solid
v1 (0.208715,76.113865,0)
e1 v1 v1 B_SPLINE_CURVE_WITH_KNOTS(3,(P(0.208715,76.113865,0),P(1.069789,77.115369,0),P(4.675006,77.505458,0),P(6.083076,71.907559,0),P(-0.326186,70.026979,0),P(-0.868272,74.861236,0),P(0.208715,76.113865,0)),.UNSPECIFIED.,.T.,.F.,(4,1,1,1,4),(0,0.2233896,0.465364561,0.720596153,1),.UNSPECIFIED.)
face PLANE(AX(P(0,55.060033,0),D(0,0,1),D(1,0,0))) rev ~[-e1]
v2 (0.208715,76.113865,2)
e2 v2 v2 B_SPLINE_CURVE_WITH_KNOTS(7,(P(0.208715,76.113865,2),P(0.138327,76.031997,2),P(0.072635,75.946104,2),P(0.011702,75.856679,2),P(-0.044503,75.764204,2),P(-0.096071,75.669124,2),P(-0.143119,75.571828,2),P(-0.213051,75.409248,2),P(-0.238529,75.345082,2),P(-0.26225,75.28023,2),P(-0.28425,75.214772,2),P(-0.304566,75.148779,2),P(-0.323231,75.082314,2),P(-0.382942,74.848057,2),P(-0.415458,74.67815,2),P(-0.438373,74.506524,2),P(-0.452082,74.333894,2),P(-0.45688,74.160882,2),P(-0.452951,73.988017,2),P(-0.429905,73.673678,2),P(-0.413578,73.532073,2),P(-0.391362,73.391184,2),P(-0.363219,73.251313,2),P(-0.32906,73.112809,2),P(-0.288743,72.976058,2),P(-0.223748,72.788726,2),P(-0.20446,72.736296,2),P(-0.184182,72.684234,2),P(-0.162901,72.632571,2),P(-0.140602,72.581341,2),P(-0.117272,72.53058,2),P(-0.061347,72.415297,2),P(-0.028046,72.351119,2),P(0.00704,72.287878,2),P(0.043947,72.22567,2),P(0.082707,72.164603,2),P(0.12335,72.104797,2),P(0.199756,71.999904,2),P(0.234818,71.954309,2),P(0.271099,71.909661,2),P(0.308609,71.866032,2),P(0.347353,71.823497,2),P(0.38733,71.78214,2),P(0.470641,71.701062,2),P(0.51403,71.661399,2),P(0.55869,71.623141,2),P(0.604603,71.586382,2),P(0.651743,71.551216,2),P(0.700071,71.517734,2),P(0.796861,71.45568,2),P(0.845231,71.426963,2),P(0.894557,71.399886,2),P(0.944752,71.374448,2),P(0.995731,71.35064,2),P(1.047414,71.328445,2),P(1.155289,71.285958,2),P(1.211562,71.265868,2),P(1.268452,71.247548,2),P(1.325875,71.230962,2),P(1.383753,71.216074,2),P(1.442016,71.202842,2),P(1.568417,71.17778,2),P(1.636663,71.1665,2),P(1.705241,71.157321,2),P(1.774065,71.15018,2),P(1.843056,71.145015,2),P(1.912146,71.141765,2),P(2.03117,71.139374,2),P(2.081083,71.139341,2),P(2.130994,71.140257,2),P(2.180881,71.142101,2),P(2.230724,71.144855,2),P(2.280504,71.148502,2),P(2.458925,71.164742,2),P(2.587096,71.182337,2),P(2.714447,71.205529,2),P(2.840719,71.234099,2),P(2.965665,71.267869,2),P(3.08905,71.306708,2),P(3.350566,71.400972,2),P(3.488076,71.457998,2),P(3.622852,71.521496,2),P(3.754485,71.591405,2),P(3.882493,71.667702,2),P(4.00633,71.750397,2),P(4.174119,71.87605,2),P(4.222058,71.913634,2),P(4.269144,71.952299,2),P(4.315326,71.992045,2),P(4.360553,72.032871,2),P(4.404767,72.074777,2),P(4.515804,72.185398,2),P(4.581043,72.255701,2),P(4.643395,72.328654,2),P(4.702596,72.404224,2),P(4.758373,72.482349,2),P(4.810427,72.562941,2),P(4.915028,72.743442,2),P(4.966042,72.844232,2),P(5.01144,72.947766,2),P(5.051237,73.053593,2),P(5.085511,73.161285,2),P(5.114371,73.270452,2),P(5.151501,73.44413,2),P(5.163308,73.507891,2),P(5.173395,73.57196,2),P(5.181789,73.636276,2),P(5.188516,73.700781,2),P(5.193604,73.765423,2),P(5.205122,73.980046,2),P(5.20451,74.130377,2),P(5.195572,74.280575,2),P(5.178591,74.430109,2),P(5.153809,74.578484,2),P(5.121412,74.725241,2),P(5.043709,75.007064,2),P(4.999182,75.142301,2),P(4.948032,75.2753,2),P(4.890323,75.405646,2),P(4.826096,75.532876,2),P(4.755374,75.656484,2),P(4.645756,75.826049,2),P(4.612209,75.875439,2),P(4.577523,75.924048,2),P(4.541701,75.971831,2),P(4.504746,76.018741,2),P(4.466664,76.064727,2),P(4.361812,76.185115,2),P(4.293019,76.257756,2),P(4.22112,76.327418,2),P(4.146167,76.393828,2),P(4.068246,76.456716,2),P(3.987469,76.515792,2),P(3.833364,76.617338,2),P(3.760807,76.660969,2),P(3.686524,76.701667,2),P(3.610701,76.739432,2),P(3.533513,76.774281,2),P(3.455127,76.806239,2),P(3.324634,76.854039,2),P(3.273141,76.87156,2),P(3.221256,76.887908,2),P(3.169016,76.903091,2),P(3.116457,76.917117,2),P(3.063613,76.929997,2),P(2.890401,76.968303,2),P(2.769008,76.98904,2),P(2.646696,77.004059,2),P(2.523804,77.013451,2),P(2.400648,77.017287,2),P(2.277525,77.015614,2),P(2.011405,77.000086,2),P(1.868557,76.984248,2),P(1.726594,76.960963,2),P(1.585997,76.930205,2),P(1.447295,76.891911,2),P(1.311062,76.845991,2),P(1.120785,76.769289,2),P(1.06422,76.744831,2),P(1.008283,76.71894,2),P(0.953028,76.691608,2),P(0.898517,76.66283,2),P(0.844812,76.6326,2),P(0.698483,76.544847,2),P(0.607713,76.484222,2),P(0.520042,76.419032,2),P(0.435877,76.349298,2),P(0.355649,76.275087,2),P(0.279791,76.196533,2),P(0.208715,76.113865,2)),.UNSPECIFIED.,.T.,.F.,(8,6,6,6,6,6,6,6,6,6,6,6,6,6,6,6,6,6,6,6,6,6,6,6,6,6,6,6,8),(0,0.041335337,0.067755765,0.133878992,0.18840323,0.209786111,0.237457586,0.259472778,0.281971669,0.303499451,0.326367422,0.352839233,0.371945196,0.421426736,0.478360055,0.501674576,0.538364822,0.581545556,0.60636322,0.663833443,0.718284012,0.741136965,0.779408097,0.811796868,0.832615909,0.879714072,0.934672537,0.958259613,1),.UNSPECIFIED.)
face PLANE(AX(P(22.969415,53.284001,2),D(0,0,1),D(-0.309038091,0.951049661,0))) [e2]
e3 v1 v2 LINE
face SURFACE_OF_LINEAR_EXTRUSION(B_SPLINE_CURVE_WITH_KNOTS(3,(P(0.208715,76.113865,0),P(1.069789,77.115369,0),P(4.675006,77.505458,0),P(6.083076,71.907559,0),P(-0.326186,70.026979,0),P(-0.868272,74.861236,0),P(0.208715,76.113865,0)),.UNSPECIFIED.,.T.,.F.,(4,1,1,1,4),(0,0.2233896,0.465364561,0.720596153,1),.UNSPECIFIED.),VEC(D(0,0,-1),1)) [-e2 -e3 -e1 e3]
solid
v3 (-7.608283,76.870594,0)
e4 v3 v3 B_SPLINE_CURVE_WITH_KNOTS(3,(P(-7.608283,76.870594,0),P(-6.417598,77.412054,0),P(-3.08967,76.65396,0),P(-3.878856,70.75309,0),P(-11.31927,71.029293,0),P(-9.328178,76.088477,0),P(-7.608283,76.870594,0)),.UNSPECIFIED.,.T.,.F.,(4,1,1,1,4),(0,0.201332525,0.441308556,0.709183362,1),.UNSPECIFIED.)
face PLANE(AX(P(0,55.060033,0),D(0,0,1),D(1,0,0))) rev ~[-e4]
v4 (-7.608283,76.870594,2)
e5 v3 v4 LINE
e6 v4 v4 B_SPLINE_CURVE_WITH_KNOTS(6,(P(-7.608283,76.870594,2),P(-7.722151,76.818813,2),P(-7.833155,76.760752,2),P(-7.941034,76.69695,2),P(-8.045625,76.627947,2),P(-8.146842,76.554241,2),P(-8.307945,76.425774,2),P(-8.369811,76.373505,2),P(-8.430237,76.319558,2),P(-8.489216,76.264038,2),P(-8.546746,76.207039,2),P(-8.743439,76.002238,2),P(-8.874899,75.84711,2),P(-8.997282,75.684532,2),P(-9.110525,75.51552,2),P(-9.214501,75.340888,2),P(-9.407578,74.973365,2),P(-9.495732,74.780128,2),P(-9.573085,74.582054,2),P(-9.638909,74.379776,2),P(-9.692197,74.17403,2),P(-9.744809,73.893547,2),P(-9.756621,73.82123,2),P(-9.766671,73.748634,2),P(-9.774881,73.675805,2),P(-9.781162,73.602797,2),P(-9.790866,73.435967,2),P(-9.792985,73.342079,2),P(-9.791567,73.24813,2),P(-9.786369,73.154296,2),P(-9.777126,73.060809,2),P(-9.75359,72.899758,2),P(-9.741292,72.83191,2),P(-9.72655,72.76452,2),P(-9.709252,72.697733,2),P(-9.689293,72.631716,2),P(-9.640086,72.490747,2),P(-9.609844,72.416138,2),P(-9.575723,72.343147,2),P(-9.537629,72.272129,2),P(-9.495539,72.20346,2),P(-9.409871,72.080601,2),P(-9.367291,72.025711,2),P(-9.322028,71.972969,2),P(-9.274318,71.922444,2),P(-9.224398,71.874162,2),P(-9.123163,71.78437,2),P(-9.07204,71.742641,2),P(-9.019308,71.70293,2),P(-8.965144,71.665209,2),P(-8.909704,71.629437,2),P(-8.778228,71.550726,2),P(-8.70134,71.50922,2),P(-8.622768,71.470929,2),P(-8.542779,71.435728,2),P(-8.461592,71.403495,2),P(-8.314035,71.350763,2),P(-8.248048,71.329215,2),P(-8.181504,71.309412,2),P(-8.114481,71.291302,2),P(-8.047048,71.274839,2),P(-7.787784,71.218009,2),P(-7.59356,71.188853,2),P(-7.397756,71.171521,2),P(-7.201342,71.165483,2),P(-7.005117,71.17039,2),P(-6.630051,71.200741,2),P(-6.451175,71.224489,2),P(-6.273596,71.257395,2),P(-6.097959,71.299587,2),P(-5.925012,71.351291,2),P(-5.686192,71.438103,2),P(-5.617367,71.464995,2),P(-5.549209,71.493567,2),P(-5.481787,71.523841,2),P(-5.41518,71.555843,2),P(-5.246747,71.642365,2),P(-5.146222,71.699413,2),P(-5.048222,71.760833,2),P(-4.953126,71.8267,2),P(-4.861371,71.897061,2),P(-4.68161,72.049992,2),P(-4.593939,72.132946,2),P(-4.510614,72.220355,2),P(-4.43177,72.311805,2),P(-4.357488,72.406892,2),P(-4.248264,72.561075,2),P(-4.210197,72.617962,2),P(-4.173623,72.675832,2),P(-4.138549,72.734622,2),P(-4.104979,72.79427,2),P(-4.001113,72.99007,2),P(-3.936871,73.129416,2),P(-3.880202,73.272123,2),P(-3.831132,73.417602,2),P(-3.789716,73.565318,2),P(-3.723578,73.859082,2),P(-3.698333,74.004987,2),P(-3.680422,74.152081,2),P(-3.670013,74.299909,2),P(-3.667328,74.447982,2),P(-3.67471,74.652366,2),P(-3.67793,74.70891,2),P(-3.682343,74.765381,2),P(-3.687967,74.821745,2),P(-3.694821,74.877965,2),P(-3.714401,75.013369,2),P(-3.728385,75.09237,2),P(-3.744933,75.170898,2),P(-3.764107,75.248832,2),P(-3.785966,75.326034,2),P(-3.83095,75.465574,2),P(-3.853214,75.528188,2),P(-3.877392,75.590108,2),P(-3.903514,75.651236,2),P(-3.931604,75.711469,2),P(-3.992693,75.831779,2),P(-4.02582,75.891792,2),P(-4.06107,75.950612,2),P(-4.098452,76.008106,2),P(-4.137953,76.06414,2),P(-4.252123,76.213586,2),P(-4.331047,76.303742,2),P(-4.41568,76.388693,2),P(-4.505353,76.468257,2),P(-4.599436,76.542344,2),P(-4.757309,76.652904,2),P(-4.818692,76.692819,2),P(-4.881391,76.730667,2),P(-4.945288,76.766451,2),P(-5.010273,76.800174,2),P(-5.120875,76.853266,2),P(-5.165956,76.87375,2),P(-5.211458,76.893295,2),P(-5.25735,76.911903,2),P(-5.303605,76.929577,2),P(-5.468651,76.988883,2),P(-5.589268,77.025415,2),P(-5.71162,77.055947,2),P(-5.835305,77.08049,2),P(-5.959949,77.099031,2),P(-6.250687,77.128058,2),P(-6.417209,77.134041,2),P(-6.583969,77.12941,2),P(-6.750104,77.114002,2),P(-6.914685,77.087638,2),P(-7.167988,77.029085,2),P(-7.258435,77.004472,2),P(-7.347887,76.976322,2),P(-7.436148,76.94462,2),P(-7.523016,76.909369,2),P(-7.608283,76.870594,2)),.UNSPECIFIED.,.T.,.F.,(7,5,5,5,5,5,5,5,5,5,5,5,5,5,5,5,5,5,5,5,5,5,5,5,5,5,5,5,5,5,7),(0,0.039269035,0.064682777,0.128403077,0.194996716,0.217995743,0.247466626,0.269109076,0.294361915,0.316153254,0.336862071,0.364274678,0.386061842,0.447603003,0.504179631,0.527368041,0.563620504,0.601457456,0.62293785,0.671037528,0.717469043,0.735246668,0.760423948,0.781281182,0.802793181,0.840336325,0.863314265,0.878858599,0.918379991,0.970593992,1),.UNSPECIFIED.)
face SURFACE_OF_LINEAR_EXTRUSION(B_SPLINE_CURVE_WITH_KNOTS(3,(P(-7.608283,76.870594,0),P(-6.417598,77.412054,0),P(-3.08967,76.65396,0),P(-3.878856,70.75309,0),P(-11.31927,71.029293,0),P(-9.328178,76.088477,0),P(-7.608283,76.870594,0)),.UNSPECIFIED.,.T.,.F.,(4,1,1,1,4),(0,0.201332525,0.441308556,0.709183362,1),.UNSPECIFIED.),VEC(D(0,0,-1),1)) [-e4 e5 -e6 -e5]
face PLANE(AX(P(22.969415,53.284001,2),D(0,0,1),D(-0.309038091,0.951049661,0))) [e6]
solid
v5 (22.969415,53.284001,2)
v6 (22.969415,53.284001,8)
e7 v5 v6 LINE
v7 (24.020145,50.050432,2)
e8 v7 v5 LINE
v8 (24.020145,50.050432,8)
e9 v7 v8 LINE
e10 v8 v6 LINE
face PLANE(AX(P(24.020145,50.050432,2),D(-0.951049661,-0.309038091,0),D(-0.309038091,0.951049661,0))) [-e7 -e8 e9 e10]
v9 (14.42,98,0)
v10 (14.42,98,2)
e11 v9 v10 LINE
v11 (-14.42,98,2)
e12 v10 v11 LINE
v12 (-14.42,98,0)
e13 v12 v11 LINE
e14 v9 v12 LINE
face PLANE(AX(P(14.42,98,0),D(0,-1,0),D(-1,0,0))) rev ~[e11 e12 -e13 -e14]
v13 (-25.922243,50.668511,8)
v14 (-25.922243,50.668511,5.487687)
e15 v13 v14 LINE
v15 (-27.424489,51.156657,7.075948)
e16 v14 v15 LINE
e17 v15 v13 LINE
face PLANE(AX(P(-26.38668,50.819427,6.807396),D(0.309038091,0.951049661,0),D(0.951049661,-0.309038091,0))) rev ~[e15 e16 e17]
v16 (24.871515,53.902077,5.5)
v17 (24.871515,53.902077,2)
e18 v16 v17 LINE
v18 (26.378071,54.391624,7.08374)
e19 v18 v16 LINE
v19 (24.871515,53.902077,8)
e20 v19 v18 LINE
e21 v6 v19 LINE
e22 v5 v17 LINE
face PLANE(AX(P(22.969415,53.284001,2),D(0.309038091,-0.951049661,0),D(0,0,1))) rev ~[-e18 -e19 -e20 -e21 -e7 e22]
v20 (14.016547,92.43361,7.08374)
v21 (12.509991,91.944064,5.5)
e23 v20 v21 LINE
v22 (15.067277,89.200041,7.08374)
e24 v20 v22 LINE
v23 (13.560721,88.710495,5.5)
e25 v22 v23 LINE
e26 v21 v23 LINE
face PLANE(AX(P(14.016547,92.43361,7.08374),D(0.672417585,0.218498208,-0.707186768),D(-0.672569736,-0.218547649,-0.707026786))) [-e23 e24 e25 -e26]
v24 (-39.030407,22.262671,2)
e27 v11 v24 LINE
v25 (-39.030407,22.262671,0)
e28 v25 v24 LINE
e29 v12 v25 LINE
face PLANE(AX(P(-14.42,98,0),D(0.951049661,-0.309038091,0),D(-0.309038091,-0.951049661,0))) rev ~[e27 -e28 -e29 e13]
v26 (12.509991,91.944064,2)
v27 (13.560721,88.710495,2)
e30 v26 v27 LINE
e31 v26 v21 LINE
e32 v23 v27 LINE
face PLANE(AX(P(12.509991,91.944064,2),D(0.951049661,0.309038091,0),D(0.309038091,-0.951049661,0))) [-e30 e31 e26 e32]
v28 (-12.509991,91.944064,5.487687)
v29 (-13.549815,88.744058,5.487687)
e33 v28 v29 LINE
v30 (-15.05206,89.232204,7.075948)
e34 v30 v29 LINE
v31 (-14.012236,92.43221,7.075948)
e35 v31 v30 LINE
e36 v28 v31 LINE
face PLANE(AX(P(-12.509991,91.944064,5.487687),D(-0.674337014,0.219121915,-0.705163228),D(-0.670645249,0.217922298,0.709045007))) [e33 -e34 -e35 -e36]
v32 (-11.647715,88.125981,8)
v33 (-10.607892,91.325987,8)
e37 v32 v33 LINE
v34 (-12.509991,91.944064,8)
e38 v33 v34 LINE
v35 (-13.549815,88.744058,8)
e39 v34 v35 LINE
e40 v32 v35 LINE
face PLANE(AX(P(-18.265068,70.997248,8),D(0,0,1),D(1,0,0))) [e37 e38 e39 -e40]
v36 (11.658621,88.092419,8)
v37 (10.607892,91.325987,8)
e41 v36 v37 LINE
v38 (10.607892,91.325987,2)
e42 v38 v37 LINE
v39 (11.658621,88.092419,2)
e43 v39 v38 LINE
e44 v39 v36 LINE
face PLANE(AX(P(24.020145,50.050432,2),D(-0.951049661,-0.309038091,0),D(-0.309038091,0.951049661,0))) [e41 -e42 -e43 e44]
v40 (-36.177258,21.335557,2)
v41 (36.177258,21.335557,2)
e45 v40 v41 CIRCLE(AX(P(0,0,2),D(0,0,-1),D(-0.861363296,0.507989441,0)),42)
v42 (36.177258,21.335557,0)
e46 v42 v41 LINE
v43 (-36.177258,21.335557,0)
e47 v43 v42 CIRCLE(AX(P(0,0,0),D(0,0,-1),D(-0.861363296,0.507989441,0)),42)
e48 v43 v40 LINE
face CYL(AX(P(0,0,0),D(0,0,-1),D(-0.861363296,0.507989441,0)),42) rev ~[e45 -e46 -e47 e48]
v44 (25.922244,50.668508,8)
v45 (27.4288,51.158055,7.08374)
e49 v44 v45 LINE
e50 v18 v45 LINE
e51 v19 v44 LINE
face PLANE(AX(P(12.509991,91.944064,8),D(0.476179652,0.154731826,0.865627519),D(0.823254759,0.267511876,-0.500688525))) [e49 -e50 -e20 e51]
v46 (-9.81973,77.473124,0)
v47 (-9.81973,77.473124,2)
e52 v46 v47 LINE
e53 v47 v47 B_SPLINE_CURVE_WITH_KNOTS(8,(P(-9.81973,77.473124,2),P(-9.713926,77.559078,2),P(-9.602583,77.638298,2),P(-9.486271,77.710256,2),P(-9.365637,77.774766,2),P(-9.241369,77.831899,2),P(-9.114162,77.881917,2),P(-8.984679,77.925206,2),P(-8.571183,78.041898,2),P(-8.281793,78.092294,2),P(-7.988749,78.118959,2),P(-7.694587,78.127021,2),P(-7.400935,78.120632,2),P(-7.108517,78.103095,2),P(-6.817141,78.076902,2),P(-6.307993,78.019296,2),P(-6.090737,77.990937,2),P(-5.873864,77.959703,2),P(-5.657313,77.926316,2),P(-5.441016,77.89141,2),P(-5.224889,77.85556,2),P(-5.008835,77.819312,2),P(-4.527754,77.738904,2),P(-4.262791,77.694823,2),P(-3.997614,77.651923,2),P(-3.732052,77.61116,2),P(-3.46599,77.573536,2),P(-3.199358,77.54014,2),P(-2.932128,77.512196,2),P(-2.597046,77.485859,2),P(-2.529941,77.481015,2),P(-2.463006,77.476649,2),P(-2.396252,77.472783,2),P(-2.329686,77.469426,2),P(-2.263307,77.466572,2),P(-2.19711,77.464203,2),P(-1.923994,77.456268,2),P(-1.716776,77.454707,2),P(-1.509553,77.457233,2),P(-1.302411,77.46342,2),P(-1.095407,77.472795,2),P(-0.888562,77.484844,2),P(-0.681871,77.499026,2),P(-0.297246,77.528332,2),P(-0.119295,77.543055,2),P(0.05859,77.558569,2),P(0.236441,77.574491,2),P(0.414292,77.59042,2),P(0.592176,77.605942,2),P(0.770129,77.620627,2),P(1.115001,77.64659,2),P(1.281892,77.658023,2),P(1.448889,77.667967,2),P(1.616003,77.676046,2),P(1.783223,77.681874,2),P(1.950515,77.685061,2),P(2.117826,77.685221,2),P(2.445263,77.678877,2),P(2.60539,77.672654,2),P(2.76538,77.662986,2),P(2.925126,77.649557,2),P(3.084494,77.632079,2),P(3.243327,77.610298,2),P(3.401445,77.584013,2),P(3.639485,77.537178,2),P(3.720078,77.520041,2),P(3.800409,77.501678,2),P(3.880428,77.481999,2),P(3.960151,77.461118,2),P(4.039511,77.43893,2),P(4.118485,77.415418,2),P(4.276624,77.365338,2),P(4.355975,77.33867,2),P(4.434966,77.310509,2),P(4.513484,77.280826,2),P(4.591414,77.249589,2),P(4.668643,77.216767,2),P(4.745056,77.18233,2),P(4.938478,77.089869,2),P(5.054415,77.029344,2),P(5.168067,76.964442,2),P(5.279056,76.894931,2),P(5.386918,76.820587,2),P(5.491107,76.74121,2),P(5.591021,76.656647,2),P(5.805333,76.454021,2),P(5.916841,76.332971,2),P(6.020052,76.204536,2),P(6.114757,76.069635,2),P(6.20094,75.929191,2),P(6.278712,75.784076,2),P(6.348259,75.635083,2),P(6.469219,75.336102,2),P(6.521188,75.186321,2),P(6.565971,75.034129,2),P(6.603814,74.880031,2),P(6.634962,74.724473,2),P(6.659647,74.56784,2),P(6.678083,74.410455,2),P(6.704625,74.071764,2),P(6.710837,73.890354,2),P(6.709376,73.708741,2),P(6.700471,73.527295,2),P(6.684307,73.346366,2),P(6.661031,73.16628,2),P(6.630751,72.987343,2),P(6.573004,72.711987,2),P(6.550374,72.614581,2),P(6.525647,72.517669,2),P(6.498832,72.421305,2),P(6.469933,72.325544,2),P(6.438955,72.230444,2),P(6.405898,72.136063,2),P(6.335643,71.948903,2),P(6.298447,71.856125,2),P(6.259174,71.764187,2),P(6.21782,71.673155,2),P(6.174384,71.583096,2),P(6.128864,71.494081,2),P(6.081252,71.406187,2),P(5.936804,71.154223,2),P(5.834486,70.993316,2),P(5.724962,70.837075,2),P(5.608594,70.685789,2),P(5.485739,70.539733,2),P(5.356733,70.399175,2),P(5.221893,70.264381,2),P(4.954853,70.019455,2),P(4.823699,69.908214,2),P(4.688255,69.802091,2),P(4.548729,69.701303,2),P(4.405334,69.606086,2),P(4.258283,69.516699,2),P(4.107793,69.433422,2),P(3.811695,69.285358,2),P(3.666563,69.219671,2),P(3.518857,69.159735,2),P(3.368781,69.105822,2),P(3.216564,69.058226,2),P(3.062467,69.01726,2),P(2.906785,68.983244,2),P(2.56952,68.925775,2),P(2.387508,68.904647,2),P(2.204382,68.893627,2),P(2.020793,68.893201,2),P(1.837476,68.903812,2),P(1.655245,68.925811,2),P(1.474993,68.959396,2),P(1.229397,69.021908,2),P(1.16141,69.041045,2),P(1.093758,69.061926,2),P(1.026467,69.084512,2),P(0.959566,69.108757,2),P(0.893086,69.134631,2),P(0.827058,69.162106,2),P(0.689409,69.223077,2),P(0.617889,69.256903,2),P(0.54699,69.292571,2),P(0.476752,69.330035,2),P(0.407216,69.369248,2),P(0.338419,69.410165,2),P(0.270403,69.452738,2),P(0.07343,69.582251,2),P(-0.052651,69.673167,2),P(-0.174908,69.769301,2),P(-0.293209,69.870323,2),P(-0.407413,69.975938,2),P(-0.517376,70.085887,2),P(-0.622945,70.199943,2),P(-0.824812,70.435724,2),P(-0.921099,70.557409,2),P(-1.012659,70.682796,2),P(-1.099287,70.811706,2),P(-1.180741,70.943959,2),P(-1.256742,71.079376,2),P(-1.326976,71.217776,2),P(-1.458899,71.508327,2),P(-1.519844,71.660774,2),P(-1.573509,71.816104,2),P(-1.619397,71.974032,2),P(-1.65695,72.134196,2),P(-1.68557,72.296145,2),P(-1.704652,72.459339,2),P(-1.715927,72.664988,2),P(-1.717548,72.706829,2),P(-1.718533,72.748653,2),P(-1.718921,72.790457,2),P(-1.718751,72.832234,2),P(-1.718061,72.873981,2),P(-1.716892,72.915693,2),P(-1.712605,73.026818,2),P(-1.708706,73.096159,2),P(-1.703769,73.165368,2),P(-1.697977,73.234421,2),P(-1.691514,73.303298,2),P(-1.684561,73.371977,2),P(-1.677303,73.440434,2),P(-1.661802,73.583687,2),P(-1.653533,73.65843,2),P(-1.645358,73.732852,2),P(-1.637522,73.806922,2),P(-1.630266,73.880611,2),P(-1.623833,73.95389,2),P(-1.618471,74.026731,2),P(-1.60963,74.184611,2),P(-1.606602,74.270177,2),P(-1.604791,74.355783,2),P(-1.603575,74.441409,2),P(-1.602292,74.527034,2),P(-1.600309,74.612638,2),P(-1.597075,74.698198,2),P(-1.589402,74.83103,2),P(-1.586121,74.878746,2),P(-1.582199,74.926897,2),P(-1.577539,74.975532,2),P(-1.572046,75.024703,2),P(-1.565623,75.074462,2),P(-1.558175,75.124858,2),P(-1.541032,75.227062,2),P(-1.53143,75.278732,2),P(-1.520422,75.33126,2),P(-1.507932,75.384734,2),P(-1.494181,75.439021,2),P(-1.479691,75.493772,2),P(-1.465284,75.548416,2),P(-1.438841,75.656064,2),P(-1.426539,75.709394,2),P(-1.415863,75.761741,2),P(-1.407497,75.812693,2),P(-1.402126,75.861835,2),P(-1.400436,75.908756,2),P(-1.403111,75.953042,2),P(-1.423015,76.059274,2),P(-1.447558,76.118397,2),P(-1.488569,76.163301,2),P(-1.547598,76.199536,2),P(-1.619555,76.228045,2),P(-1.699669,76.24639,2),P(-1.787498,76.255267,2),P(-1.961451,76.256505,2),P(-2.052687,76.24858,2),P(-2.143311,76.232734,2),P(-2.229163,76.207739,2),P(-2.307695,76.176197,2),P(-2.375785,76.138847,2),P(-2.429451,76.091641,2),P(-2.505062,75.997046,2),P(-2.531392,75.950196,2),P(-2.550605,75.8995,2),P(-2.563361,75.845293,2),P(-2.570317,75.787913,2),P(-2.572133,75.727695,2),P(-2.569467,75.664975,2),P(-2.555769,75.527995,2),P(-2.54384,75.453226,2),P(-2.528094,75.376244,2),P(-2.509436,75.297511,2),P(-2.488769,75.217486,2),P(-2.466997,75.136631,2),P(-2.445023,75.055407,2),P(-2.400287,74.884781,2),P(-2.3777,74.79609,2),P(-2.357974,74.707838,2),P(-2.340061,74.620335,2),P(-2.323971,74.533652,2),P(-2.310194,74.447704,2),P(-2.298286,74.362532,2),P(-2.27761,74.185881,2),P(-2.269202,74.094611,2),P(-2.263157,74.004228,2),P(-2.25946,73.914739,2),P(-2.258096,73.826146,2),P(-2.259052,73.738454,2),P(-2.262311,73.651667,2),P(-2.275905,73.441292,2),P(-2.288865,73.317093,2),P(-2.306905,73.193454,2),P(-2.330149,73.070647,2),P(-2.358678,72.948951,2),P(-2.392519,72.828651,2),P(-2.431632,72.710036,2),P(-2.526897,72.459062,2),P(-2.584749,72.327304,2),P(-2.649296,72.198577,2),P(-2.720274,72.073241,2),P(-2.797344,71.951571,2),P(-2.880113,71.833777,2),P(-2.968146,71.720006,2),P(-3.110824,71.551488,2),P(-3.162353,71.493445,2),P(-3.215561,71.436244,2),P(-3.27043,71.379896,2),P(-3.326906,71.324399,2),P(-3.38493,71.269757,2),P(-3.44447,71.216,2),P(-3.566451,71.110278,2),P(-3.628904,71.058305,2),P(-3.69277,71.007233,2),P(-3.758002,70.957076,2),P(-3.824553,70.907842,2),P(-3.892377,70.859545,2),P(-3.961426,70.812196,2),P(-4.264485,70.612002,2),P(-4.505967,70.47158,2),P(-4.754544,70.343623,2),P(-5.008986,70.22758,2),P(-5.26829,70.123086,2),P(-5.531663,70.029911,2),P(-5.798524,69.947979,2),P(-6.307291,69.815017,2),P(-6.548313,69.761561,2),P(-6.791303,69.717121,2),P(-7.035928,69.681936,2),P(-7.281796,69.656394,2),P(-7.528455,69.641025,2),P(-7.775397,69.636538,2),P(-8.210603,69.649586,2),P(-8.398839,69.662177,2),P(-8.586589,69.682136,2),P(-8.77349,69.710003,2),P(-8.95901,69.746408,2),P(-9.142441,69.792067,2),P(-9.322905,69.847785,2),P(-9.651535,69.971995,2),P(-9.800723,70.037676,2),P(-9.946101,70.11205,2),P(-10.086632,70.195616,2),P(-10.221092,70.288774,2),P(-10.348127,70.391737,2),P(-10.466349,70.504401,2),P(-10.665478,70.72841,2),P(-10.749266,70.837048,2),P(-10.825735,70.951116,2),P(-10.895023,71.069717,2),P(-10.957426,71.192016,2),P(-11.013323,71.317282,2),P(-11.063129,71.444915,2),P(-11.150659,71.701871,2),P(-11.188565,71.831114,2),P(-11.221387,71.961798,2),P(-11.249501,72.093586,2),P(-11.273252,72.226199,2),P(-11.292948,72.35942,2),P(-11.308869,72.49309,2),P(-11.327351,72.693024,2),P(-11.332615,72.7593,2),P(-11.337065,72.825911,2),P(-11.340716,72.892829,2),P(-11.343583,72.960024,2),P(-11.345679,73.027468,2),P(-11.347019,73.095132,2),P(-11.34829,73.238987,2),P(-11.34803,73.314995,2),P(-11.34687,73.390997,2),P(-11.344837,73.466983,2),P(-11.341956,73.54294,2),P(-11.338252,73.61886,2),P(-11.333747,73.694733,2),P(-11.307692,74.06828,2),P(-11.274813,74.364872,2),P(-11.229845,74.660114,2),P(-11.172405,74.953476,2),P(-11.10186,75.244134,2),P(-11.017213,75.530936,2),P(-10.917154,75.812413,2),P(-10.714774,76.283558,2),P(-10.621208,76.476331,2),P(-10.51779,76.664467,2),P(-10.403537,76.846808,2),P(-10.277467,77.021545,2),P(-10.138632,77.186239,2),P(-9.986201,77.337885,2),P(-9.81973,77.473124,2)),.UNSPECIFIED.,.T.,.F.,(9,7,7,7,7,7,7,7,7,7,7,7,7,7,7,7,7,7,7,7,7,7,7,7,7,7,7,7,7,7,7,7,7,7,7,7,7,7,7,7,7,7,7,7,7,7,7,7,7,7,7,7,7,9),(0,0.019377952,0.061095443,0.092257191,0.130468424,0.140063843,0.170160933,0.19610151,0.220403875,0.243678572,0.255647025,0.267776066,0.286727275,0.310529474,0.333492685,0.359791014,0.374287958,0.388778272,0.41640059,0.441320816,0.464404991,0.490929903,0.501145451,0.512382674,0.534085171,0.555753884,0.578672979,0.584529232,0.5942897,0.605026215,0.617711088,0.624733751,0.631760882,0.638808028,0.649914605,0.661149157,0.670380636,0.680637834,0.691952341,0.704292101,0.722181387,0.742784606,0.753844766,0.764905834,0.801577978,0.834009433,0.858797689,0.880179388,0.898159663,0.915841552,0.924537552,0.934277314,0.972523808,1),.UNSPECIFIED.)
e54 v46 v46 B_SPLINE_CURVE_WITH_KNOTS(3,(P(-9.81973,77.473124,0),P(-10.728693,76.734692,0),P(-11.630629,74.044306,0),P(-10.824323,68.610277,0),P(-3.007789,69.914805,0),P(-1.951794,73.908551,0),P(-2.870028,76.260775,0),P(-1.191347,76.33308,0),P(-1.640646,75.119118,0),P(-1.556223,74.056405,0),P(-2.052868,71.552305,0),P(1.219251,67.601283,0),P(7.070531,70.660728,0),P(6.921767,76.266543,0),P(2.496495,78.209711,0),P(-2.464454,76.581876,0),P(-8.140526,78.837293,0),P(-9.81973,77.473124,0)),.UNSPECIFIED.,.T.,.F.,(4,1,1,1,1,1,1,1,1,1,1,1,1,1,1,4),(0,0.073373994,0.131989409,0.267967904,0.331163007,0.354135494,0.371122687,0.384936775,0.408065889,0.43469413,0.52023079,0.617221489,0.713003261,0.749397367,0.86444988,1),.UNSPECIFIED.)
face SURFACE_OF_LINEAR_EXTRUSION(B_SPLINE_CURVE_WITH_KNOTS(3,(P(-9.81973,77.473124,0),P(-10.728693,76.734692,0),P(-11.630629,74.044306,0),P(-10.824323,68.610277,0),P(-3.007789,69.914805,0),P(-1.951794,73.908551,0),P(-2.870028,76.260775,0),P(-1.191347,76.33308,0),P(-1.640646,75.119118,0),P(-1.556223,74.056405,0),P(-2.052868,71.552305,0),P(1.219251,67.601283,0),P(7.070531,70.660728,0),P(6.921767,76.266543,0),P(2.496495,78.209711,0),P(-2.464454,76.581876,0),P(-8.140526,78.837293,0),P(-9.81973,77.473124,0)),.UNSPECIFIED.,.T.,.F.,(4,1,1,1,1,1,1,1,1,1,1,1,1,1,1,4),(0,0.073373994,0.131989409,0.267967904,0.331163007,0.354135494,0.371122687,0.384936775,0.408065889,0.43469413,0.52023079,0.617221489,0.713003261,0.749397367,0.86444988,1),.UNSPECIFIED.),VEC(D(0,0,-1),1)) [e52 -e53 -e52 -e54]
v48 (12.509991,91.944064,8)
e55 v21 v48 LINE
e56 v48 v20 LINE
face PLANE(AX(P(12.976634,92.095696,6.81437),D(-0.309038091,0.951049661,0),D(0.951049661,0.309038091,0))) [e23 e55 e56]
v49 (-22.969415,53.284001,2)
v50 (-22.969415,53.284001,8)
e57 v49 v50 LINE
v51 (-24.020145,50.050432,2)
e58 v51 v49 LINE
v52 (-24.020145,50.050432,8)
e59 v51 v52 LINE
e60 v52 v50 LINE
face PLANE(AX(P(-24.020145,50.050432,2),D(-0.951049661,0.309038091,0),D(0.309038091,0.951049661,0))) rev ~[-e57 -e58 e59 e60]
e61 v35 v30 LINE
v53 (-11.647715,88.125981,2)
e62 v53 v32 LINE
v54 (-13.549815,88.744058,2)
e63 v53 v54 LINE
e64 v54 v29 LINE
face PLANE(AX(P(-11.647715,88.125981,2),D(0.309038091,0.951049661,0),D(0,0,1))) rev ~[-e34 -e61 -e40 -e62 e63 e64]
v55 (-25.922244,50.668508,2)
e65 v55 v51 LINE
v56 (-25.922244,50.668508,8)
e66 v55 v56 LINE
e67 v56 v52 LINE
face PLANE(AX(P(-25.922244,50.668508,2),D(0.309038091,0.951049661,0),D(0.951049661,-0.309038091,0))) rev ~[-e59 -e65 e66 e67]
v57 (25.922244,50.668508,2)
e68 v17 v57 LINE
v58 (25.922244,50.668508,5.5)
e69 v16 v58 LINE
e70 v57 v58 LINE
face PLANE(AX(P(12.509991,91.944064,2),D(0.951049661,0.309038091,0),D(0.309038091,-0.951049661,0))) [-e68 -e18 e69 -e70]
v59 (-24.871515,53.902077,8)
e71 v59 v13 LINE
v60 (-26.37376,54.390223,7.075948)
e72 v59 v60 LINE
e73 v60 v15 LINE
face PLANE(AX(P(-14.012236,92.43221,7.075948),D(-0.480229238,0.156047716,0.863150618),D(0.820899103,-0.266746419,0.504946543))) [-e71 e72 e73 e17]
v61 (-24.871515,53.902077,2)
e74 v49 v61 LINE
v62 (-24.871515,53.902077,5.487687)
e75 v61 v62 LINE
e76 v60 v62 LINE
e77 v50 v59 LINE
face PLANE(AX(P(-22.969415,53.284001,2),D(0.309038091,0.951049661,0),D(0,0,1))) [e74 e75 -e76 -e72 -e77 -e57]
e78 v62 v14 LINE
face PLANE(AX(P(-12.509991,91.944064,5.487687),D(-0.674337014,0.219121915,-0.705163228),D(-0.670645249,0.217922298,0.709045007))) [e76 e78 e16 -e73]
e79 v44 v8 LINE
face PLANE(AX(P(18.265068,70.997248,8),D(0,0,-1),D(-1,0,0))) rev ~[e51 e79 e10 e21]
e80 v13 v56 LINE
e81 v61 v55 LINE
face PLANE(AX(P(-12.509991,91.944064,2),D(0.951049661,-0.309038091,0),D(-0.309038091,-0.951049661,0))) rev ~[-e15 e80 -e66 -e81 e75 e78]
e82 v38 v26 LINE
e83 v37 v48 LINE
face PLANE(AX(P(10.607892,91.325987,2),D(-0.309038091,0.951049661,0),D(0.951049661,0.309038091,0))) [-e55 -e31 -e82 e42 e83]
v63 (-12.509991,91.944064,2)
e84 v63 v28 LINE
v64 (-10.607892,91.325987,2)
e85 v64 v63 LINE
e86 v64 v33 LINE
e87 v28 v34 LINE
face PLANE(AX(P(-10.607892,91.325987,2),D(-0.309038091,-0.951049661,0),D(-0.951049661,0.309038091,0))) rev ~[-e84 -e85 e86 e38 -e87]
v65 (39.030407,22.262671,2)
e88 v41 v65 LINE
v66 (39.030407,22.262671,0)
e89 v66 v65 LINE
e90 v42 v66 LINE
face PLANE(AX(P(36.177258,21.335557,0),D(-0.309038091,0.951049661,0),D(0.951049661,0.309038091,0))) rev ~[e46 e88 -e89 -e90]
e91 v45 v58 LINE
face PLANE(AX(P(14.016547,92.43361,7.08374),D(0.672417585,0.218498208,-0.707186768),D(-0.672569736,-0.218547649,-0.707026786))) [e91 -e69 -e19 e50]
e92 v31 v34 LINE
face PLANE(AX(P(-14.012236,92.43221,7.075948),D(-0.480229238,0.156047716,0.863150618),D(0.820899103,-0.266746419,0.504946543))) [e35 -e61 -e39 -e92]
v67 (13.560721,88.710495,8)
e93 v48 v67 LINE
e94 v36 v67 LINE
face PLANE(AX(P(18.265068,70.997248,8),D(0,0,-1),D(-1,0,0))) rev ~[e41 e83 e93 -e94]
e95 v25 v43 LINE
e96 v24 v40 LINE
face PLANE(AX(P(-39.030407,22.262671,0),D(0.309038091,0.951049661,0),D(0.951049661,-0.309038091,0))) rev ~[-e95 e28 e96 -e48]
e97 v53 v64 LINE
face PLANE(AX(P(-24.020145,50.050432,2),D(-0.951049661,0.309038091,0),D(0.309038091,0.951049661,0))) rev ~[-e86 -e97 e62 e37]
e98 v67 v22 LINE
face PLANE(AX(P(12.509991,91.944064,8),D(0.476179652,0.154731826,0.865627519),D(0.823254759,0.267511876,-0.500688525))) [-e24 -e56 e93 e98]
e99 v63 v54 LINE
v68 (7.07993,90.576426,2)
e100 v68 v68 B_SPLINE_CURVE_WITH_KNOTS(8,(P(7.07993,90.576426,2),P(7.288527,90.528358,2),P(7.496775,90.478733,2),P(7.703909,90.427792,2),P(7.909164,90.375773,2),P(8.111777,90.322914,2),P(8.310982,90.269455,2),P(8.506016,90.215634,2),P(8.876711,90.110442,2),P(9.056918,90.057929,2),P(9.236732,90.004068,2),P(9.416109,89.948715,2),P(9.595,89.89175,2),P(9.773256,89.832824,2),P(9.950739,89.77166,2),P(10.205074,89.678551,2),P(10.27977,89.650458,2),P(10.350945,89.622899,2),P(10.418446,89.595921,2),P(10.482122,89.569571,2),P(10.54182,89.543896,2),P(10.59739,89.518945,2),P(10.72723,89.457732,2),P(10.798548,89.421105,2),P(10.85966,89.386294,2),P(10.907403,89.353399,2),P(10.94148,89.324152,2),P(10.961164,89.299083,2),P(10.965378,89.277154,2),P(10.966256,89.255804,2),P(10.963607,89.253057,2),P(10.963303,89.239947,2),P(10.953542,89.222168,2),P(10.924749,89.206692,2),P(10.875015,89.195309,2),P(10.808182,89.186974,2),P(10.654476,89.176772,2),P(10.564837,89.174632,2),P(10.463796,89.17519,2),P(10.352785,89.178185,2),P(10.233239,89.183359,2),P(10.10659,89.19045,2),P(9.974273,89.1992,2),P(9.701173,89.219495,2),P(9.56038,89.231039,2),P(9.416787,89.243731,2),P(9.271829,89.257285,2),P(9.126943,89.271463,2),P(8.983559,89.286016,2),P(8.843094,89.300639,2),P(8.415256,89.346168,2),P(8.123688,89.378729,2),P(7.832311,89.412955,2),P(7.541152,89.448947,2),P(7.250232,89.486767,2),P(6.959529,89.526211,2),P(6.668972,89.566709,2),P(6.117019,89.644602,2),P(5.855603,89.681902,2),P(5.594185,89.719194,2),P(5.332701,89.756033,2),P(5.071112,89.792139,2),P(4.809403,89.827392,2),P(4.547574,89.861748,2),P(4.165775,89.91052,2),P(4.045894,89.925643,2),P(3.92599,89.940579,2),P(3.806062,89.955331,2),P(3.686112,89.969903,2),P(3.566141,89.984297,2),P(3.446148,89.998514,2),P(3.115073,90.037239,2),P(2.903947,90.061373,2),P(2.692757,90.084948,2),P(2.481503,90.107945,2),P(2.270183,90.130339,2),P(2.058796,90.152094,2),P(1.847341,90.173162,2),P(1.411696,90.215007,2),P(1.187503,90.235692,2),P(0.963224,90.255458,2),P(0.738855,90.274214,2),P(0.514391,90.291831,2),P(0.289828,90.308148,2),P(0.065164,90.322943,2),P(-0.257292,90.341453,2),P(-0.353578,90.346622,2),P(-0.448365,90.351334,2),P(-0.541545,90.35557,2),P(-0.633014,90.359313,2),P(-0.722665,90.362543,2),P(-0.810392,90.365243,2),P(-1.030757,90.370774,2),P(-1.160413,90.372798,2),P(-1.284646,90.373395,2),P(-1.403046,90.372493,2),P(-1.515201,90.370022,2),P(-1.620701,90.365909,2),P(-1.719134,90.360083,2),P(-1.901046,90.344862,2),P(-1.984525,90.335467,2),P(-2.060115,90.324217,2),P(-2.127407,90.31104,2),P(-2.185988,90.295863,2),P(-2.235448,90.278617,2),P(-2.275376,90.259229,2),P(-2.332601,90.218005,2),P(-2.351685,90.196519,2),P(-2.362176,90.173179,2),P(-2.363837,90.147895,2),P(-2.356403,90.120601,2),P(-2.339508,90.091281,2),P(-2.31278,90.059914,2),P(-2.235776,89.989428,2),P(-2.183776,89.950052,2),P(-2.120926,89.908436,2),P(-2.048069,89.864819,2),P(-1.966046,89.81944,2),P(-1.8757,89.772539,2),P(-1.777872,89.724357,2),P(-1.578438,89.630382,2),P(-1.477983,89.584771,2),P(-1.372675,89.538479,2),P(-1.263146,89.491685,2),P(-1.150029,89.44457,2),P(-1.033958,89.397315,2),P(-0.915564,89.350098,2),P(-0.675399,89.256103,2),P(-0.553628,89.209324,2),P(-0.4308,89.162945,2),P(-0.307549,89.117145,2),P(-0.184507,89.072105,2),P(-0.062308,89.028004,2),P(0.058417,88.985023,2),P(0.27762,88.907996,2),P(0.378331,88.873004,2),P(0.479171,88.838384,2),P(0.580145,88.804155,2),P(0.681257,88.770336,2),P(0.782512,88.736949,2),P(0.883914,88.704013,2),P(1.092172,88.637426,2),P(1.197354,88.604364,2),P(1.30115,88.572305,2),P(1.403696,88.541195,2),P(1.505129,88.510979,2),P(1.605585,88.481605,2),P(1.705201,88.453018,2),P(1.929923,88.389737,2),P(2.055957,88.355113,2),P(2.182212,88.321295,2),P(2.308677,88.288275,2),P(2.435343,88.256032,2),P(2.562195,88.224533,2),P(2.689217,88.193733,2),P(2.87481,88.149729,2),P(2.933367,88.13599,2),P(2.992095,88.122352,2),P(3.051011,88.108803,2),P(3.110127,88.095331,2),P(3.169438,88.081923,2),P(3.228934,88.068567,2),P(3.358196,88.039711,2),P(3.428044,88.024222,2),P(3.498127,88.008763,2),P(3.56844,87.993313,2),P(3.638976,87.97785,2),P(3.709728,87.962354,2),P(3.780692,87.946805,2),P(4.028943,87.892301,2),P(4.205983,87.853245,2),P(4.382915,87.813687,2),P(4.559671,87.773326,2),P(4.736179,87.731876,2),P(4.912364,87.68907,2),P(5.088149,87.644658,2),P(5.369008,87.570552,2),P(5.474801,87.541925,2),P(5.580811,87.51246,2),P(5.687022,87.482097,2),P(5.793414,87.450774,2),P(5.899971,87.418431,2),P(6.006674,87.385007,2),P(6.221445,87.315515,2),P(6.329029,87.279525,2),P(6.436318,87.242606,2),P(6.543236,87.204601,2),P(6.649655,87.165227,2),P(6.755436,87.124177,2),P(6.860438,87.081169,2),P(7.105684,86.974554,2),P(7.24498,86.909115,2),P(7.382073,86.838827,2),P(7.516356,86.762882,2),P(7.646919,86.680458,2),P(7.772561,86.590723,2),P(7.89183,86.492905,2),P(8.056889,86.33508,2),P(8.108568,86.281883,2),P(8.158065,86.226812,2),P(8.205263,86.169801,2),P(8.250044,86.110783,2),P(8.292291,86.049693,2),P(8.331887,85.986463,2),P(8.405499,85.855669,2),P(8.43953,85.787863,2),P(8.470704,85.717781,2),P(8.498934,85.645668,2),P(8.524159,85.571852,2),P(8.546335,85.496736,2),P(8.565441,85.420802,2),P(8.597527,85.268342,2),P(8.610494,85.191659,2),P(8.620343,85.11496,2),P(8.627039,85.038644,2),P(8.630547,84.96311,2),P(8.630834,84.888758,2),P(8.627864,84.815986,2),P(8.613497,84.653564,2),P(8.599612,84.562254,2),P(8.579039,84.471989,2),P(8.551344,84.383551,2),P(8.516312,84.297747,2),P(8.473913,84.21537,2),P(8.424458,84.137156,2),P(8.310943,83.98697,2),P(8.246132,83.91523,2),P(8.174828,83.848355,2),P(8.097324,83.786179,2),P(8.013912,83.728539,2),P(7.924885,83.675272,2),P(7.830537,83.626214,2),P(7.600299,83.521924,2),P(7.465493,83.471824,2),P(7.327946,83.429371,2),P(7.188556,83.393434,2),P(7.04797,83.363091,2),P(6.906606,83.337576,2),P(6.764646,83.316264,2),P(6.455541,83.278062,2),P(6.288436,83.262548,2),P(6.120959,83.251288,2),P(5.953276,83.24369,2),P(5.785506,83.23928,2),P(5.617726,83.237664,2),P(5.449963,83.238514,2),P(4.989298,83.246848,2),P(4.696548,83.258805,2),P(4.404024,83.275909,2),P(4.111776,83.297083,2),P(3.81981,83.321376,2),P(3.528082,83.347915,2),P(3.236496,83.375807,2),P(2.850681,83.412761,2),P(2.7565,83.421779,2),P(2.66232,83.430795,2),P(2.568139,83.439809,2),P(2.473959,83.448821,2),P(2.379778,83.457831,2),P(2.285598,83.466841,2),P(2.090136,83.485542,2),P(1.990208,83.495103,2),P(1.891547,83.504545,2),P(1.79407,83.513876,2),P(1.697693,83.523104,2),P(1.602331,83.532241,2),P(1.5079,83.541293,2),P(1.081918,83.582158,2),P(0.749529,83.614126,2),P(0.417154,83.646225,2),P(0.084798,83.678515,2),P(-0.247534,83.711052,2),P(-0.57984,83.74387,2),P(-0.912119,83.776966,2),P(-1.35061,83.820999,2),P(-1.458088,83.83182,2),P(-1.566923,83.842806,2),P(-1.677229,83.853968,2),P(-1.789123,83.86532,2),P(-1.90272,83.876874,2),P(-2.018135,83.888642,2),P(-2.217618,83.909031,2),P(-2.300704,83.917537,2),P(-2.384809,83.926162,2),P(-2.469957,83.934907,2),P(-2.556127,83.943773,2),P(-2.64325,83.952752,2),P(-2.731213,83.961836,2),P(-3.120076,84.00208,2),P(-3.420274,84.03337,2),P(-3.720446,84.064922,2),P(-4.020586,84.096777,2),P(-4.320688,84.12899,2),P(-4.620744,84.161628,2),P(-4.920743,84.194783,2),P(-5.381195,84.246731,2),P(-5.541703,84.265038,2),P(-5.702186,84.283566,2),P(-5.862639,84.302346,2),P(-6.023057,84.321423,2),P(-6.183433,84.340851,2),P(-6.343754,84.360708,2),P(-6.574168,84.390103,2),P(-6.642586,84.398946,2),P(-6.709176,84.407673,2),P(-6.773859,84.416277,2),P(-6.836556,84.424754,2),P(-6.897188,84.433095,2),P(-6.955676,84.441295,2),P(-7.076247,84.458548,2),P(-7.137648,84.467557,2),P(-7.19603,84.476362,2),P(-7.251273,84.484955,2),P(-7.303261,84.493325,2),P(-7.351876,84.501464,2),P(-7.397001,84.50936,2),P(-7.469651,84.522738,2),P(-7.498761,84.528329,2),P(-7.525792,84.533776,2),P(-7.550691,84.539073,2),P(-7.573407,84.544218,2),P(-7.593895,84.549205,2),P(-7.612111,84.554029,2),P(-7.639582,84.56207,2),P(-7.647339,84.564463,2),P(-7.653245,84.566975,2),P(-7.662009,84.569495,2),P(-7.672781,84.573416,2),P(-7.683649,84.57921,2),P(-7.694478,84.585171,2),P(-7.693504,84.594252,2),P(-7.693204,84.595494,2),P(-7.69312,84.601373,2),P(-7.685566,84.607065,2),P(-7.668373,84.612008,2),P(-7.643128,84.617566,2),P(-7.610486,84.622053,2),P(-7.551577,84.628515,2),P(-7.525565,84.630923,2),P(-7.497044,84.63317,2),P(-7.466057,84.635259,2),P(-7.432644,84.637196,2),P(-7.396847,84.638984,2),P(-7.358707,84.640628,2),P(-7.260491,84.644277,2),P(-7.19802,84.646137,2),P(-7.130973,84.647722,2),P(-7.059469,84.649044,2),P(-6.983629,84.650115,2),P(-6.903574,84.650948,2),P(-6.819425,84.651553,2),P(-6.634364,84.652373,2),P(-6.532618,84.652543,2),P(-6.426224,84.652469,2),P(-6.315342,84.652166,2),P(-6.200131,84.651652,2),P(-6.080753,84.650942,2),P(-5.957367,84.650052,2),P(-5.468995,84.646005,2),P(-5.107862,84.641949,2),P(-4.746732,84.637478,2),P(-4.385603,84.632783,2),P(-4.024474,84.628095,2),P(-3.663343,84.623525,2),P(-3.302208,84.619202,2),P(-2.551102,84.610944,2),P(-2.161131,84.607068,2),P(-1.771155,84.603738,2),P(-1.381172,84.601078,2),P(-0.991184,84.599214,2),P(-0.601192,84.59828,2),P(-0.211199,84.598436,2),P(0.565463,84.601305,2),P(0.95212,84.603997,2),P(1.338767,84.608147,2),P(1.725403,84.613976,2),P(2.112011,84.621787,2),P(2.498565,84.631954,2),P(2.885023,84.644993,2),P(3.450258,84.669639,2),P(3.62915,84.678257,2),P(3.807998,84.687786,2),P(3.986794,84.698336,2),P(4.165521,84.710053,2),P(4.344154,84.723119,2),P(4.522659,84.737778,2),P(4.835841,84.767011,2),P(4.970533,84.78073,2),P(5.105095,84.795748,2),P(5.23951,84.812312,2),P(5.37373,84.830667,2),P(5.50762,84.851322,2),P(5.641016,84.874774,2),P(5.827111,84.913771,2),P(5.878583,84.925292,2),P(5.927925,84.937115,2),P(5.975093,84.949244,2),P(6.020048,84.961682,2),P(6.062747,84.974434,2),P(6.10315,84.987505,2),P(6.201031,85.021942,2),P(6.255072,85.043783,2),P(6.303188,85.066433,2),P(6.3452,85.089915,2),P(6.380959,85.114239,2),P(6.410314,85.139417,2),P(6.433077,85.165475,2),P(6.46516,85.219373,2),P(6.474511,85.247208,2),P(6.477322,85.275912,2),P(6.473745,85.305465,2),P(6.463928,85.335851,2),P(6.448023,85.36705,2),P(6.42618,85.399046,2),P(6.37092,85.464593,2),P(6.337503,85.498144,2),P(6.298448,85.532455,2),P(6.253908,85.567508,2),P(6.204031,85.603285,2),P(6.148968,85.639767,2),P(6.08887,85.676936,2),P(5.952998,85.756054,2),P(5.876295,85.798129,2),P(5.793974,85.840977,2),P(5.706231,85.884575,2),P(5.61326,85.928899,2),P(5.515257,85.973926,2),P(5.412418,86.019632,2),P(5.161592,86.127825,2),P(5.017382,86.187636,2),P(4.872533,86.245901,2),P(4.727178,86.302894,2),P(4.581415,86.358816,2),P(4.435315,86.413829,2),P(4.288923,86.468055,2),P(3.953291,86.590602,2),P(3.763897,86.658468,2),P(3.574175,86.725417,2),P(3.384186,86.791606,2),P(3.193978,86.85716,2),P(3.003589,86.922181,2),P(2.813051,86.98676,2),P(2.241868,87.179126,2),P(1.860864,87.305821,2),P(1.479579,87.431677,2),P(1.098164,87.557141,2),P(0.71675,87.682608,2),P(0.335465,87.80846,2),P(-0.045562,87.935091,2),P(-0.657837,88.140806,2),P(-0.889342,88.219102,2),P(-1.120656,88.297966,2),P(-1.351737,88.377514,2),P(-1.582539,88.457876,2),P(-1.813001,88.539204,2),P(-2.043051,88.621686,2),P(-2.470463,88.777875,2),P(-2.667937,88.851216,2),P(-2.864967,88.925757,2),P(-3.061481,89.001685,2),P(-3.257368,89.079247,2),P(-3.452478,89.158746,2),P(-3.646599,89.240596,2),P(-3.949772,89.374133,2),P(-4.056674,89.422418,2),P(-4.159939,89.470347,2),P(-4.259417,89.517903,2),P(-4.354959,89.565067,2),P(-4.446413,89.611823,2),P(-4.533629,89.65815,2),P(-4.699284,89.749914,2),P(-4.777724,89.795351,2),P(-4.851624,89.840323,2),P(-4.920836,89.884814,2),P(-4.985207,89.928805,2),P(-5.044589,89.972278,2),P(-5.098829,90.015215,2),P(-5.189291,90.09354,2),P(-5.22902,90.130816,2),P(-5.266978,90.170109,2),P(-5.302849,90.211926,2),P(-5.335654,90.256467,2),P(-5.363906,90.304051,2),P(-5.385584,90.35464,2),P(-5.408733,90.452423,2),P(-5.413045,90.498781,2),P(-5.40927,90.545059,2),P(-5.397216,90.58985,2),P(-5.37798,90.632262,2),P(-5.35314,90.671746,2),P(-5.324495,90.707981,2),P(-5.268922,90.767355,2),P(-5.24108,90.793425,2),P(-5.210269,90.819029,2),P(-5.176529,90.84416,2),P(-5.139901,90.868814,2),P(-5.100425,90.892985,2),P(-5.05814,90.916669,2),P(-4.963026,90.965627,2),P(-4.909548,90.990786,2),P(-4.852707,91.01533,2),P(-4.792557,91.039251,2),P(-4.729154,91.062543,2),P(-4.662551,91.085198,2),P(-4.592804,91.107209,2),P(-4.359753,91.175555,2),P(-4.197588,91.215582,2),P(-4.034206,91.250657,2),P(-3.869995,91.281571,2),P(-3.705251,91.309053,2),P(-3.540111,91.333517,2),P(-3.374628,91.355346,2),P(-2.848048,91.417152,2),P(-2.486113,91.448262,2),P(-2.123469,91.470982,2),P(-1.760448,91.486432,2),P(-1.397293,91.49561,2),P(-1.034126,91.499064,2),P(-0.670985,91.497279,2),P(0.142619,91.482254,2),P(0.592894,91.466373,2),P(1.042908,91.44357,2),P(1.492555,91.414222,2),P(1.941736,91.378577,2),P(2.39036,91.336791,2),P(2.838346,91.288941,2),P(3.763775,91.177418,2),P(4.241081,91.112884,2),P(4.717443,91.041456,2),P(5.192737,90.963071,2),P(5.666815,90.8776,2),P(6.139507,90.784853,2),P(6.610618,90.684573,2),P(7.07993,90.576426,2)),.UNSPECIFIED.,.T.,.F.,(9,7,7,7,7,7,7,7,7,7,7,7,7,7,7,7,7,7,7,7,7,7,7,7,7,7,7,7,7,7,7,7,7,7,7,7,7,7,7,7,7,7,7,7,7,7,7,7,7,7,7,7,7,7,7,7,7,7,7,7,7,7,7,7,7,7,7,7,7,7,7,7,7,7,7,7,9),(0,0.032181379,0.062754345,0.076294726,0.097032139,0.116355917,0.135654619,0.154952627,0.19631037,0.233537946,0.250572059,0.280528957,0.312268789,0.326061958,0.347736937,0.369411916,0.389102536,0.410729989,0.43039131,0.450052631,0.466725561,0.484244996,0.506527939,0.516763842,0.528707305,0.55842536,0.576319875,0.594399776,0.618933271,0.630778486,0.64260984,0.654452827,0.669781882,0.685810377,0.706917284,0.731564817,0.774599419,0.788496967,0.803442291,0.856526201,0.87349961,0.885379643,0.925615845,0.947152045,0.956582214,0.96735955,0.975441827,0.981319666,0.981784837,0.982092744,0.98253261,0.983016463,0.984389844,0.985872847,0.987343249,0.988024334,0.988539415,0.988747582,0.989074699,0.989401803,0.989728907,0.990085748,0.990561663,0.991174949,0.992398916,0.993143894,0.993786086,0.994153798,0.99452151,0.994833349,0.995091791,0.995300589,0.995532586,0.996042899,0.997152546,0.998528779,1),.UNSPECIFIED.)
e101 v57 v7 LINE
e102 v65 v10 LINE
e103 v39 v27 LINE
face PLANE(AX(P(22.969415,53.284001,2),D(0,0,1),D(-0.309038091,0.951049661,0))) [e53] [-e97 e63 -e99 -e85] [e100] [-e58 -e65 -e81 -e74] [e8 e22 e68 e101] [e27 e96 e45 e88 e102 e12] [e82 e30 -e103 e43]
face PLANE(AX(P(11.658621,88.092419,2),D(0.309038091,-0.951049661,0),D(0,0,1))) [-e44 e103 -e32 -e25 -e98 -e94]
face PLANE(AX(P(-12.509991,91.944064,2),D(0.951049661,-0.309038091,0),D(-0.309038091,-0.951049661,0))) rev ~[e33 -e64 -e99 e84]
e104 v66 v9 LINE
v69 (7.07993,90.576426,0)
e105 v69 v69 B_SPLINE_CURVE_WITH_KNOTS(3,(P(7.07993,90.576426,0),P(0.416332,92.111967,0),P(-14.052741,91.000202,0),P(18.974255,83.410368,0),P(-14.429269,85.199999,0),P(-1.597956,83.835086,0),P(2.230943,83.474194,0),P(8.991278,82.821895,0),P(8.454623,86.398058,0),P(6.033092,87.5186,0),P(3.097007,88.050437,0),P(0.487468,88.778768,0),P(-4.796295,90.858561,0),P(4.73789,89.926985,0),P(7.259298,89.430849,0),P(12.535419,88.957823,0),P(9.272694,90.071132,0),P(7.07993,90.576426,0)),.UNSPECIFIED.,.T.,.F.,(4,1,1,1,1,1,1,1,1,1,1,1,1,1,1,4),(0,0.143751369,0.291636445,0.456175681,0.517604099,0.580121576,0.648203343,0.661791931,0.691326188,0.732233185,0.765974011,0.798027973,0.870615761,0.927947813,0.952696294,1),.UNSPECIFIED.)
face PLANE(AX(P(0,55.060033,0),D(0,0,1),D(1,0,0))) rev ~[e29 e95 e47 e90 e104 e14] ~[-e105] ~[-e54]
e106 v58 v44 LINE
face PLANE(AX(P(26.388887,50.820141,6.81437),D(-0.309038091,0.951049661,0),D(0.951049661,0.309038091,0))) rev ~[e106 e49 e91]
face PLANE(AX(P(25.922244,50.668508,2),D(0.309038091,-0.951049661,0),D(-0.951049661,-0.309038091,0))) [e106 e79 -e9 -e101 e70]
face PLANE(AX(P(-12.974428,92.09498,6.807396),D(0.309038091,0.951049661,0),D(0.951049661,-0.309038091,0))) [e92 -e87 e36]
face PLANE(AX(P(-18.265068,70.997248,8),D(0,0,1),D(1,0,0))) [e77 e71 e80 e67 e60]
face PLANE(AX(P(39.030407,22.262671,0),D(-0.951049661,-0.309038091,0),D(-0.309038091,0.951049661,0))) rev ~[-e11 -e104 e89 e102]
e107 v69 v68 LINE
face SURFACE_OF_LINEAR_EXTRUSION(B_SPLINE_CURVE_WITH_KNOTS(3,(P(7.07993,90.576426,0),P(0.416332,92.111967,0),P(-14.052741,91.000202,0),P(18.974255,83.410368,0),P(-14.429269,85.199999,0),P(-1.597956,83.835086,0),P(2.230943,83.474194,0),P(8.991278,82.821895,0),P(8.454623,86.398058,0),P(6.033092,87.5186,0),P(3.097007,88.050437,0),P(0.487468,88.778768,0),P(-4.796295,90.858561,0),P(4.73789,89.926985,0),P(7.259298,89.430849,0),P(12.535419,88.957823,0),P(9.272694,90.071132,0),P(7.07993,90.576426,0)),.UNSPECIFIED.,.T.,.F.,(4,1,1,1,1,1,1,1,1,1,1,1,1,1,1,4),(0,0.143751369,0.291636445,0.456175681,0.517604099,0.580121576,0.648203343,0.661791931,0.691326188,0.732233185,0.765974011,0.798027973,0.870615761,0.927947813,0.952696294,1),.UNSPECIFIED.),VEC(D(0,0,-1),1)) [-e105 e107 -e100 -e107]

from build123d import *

# Parameters (mm, degrees)
EXTRUDE_1_DEPTH     = 2
EXTRUDE_2_DEPTH     = 6
EXTRUDE_3_DEPTH     = 43.399997
EXTRUDE_4_DEPTH     = 43.4
CUT_EXTRUDE_3_DEPTH = 43
SKETCH_9_W          = 6
SKETCH_9_H          = 36.6
CUT_EXTRUDE_4_DEPTH = 43
CUT_EXTRUDE_5_DEPTH = 43


with BuildPart() as part:
    # 草图1 → 凸台-拉伸1 (new body)
    with BuildSketch(Plane.XY):
        with BuildLine():
            Line((-39.030407411, 22.262670809), (-36.177258427, 21.335556536))
            ThreePointArc((-36.177258427, 21.335556536), (0, 42), (36.177258427, 21.335556536))
            Line((36.177258427, 21.335556536), (39.030407411, 22.262670809))
            Line((39.030407411, 22.262670809), (14.42, 98))
            Line((14.42, 98), (-14.42, 98))
            Line((-14.42, 98), (-39.030407411, 22.262670809))
        make_face()
    extrude(amount=EXTRUDE_1_DEPTH)

    # 草图2 → 凸台-拉伸2 (add)
    with BuildSketch(Plane.XY.offset(2)):
        Polygon((-12.509991115, 91.944063569), (-25.922244266, 50.668508268), (-24.020144943, 50.050432086), (-10.607891792, 91.325987387), align=None)
        Polygon((25.922244266, 50.668508268), (24.020144943, 50.050432086), (10.607891792, 91.325987387), (12.509991115, 91.944063569), align=None)
    extrude(amount=EXTRUDE_2_DEPTH)

    # 草图4 → 凸台-拉伸3 (add)
    with BuildSketch(Plane(origin=(25.82857133, 79.486169273, 0), x_dir=(0.9510496613169626, -0.3090380910323043, 0), z_dir=(0.3090380910323043, 0.9510496613169626, 0))):
        Polygon((-40.3118407, -5.487687012), (-41.891406331, -7.075947827), (-40.3118407, -8), align=None)
    extrude(amount=-EXTRUDE_3_DEPTH)

    # 草图5 → 凸台-拉伸4 (add)
    with BuildSketch(Plane(origin=(-25.82857133, 79.486169273, 0), x_dir=(0.9510496613169626, 0.3090380910323043, 0), z_dir=(-0.3090380910323043, 0.9510496613169626, 0))):
        Polygon((40.3118407, -8), (41.895939059, -7.08374), (40.3118407, -5.5), align=None)
    extrude(amount=-EXTRUDE_4_DEPTH)

    # 草图8 → 切除-拉伸3 (cut)
    with BuildSketch(Plane(origin=(-36.436463122, 11.839818114, 0), x_dir=(0, 0, -1), z_dir=(0.9510496613169628, -0.30903809103230395, 0))):
        Polygon((-2, 43.577306744), (-8, 43.577306744), (-8, 80.212597126), (-2.818513161, 80.212597126), (-2, 80.212597126), align=None)
    extrude(amount=-CUT_EXTRUDE_3_DEPTH, mode=Mode.SUBTRACT)

    # 草图9 → 切除-拉伸4 (cut)
    with BuildSketch(Plane(origin=(36.436463122, 11.839818114, 0), x_dir=(0, 0, 1), z_dir=(-0.9510496613169628, -0.30903809103230395, 0))):
        with Locations((5, 61.877306744)):
            Rectangle(SKETCH_9_W, SKETCH_9_H)
    extrude(amount=-CUT_EXTRUDE_4_DEPTH, mode=Mode.SUBTRACT)

    # 草图10 → 切除-拉伸5 (cut)
    # profile 1 of 2: a face of its own
    with BuildSketch(Plane(origin=(0, 0, 0), x_dir=(-1, 0, 0), z_dir=(0, 0, -1))):
        with BuildLine():
            add(Edge.make_bspline(
                [(-7.079929635, 90.5764263), (-0.416332173, 92.111966928), (14.05274088, 91.000202068), (-18.974255469, 83.410367588), (14.429269177, 85.199998512), (1.597956135, 83.835086368), (-2.230943097, 83.47419356), (-8.991278483, 82.821894761), (-8.454622583, 86.398057593), (-6.033091605, 87.518599532), (-3.09700708, 88.050437432), (-0.487467509, 88.77876824), (4.796294503, 90.858561457), (-4.73788989, 89.92698459), (-7.259297971, 89.430848947), (-12.535418526, 88.957822516), (-9.27269383, 90.071131895), (-7.079929635, 90.5764263)],
                knots=[0, 0, 0, 0, 0.143751369, 0.291636445, 0.456175681, 0.517604099, 0.580121576, 0.648203343, 0.661791931, 0.691326188, 0.732233185, 0.765974011, 0.798027973, 0.870615761, 0.927947813, 0.952696294, 1, 1, 1, 1], degree=3))
        make_face()
    # profile 2 of 2: a face of its own
    with BuildSketch(Plane(origin=(0, 0, 0), x_dir=(-1, 0, 0), z_dir=(0, 0, -1))):
        with BuildLine():
            add(Edge.make_bspline(
                [(9.819730457, 77.47312361), (10.728692646, 76.734691792), (11.630629218, 74.044306315), (10.824322829, 68.610277246), (3.007788581, 69.914805184), (1.951793555, 73.908550907), (2.870028272, 76.260775233), (1.191346859, 76.333080425), (1.64064624, 75.119118035), (1.556223041, 74.056404886), (2.052867726, 71.552305455), (-1.219251321, 67.601283217), (-7.070531234, 70.66072811), (-6.921766751, 76.266542921), (-2.496495426, 78.209710542), (2.464453906, 76.581875692), (8.140526043, 78.837292533), (9.819730457, 77.47312361)],
                knots=[0, 0, 0, 0, 0.073373994, 0.131989409, 0.267967904, 0.331163007, 0.354135494, 0.371122687, 0.384936775, 0.408065889, 0.43469413, 0.52023079, 0.617221489, 0.713003261, 0.749397367, 0.86444988, 1, 1, 1, 1], degree=3))
        make_face()
        with BuildLine():
            add(Edge.make_bspline(
                [(-0.208714588, 76.113864669), (-1.069789273, 77.115368873), (-4.675005618, 77.505458019), (-6.083075859, 71.907559422), (0.326185891, 70.026978872), (0.868271893, 74.861236402), (-0.208714588, 76.113864669)],
                knots=[0, 0, 0, 0, 0.2233896, 0.465364561, 0.720596153, 1, 1, 1, 1], degree=3))
        make_face(mode=Mode.SUBTRACT)
        with BuildLine():
            add(Edge.make_bspline(
                [(7.608282592, 76.870593945), (6.417597899, 77.412053608), (3.089669883, 76.653959868), (3.878855714, 70.753089794), (11.319270068, 71.029293158), (9.328178171, 76.088477499), (7.608282592, 76.870593945)],
                knots=[0, 0, 0, 0, 0.201332525, 0.441308556, 0.709183362, 1, 1, 1, 1], degree=3))
        make_face(mode=Mode.SUBTRACT)
    extrude(amount=-CUT_EXTRUDE_5_DEPTH, mode=Mode.SUBTRACT)


with BuildPart() as cut_extrude_5_piece_1:
    # of the separate pieces the step leaves, piece 1, a body of its own (cut_extrude_5_pieces)
    add(part.part.solids().sort_by_distance((-39.030407411, 22.262670809, 0))[0])


with BuildPart() as cut_extrude_5_piece_2:
    # of the separate pieces the step leaves, piece 2, a body of its own (cut_extrude_5_pieces)
    add(part.part.solids().sort_by_distance((-7.608282592, 76.870593945, 0))[0])


with BuildPart() as cut_extrude_5_piece_3:
    # of the separate pieces the step leaves, piece 3, a body of its own (cut_extrude_5_pieces)
    add(part.part.solids().sort_by_distance((0.208714588, 76.113864669, 0))[0])


solid = Compound([cut_extrude_5_piece_1.part, cut_extrude_5_piece_2.part, cut_extrude_5_piece_3.part])
